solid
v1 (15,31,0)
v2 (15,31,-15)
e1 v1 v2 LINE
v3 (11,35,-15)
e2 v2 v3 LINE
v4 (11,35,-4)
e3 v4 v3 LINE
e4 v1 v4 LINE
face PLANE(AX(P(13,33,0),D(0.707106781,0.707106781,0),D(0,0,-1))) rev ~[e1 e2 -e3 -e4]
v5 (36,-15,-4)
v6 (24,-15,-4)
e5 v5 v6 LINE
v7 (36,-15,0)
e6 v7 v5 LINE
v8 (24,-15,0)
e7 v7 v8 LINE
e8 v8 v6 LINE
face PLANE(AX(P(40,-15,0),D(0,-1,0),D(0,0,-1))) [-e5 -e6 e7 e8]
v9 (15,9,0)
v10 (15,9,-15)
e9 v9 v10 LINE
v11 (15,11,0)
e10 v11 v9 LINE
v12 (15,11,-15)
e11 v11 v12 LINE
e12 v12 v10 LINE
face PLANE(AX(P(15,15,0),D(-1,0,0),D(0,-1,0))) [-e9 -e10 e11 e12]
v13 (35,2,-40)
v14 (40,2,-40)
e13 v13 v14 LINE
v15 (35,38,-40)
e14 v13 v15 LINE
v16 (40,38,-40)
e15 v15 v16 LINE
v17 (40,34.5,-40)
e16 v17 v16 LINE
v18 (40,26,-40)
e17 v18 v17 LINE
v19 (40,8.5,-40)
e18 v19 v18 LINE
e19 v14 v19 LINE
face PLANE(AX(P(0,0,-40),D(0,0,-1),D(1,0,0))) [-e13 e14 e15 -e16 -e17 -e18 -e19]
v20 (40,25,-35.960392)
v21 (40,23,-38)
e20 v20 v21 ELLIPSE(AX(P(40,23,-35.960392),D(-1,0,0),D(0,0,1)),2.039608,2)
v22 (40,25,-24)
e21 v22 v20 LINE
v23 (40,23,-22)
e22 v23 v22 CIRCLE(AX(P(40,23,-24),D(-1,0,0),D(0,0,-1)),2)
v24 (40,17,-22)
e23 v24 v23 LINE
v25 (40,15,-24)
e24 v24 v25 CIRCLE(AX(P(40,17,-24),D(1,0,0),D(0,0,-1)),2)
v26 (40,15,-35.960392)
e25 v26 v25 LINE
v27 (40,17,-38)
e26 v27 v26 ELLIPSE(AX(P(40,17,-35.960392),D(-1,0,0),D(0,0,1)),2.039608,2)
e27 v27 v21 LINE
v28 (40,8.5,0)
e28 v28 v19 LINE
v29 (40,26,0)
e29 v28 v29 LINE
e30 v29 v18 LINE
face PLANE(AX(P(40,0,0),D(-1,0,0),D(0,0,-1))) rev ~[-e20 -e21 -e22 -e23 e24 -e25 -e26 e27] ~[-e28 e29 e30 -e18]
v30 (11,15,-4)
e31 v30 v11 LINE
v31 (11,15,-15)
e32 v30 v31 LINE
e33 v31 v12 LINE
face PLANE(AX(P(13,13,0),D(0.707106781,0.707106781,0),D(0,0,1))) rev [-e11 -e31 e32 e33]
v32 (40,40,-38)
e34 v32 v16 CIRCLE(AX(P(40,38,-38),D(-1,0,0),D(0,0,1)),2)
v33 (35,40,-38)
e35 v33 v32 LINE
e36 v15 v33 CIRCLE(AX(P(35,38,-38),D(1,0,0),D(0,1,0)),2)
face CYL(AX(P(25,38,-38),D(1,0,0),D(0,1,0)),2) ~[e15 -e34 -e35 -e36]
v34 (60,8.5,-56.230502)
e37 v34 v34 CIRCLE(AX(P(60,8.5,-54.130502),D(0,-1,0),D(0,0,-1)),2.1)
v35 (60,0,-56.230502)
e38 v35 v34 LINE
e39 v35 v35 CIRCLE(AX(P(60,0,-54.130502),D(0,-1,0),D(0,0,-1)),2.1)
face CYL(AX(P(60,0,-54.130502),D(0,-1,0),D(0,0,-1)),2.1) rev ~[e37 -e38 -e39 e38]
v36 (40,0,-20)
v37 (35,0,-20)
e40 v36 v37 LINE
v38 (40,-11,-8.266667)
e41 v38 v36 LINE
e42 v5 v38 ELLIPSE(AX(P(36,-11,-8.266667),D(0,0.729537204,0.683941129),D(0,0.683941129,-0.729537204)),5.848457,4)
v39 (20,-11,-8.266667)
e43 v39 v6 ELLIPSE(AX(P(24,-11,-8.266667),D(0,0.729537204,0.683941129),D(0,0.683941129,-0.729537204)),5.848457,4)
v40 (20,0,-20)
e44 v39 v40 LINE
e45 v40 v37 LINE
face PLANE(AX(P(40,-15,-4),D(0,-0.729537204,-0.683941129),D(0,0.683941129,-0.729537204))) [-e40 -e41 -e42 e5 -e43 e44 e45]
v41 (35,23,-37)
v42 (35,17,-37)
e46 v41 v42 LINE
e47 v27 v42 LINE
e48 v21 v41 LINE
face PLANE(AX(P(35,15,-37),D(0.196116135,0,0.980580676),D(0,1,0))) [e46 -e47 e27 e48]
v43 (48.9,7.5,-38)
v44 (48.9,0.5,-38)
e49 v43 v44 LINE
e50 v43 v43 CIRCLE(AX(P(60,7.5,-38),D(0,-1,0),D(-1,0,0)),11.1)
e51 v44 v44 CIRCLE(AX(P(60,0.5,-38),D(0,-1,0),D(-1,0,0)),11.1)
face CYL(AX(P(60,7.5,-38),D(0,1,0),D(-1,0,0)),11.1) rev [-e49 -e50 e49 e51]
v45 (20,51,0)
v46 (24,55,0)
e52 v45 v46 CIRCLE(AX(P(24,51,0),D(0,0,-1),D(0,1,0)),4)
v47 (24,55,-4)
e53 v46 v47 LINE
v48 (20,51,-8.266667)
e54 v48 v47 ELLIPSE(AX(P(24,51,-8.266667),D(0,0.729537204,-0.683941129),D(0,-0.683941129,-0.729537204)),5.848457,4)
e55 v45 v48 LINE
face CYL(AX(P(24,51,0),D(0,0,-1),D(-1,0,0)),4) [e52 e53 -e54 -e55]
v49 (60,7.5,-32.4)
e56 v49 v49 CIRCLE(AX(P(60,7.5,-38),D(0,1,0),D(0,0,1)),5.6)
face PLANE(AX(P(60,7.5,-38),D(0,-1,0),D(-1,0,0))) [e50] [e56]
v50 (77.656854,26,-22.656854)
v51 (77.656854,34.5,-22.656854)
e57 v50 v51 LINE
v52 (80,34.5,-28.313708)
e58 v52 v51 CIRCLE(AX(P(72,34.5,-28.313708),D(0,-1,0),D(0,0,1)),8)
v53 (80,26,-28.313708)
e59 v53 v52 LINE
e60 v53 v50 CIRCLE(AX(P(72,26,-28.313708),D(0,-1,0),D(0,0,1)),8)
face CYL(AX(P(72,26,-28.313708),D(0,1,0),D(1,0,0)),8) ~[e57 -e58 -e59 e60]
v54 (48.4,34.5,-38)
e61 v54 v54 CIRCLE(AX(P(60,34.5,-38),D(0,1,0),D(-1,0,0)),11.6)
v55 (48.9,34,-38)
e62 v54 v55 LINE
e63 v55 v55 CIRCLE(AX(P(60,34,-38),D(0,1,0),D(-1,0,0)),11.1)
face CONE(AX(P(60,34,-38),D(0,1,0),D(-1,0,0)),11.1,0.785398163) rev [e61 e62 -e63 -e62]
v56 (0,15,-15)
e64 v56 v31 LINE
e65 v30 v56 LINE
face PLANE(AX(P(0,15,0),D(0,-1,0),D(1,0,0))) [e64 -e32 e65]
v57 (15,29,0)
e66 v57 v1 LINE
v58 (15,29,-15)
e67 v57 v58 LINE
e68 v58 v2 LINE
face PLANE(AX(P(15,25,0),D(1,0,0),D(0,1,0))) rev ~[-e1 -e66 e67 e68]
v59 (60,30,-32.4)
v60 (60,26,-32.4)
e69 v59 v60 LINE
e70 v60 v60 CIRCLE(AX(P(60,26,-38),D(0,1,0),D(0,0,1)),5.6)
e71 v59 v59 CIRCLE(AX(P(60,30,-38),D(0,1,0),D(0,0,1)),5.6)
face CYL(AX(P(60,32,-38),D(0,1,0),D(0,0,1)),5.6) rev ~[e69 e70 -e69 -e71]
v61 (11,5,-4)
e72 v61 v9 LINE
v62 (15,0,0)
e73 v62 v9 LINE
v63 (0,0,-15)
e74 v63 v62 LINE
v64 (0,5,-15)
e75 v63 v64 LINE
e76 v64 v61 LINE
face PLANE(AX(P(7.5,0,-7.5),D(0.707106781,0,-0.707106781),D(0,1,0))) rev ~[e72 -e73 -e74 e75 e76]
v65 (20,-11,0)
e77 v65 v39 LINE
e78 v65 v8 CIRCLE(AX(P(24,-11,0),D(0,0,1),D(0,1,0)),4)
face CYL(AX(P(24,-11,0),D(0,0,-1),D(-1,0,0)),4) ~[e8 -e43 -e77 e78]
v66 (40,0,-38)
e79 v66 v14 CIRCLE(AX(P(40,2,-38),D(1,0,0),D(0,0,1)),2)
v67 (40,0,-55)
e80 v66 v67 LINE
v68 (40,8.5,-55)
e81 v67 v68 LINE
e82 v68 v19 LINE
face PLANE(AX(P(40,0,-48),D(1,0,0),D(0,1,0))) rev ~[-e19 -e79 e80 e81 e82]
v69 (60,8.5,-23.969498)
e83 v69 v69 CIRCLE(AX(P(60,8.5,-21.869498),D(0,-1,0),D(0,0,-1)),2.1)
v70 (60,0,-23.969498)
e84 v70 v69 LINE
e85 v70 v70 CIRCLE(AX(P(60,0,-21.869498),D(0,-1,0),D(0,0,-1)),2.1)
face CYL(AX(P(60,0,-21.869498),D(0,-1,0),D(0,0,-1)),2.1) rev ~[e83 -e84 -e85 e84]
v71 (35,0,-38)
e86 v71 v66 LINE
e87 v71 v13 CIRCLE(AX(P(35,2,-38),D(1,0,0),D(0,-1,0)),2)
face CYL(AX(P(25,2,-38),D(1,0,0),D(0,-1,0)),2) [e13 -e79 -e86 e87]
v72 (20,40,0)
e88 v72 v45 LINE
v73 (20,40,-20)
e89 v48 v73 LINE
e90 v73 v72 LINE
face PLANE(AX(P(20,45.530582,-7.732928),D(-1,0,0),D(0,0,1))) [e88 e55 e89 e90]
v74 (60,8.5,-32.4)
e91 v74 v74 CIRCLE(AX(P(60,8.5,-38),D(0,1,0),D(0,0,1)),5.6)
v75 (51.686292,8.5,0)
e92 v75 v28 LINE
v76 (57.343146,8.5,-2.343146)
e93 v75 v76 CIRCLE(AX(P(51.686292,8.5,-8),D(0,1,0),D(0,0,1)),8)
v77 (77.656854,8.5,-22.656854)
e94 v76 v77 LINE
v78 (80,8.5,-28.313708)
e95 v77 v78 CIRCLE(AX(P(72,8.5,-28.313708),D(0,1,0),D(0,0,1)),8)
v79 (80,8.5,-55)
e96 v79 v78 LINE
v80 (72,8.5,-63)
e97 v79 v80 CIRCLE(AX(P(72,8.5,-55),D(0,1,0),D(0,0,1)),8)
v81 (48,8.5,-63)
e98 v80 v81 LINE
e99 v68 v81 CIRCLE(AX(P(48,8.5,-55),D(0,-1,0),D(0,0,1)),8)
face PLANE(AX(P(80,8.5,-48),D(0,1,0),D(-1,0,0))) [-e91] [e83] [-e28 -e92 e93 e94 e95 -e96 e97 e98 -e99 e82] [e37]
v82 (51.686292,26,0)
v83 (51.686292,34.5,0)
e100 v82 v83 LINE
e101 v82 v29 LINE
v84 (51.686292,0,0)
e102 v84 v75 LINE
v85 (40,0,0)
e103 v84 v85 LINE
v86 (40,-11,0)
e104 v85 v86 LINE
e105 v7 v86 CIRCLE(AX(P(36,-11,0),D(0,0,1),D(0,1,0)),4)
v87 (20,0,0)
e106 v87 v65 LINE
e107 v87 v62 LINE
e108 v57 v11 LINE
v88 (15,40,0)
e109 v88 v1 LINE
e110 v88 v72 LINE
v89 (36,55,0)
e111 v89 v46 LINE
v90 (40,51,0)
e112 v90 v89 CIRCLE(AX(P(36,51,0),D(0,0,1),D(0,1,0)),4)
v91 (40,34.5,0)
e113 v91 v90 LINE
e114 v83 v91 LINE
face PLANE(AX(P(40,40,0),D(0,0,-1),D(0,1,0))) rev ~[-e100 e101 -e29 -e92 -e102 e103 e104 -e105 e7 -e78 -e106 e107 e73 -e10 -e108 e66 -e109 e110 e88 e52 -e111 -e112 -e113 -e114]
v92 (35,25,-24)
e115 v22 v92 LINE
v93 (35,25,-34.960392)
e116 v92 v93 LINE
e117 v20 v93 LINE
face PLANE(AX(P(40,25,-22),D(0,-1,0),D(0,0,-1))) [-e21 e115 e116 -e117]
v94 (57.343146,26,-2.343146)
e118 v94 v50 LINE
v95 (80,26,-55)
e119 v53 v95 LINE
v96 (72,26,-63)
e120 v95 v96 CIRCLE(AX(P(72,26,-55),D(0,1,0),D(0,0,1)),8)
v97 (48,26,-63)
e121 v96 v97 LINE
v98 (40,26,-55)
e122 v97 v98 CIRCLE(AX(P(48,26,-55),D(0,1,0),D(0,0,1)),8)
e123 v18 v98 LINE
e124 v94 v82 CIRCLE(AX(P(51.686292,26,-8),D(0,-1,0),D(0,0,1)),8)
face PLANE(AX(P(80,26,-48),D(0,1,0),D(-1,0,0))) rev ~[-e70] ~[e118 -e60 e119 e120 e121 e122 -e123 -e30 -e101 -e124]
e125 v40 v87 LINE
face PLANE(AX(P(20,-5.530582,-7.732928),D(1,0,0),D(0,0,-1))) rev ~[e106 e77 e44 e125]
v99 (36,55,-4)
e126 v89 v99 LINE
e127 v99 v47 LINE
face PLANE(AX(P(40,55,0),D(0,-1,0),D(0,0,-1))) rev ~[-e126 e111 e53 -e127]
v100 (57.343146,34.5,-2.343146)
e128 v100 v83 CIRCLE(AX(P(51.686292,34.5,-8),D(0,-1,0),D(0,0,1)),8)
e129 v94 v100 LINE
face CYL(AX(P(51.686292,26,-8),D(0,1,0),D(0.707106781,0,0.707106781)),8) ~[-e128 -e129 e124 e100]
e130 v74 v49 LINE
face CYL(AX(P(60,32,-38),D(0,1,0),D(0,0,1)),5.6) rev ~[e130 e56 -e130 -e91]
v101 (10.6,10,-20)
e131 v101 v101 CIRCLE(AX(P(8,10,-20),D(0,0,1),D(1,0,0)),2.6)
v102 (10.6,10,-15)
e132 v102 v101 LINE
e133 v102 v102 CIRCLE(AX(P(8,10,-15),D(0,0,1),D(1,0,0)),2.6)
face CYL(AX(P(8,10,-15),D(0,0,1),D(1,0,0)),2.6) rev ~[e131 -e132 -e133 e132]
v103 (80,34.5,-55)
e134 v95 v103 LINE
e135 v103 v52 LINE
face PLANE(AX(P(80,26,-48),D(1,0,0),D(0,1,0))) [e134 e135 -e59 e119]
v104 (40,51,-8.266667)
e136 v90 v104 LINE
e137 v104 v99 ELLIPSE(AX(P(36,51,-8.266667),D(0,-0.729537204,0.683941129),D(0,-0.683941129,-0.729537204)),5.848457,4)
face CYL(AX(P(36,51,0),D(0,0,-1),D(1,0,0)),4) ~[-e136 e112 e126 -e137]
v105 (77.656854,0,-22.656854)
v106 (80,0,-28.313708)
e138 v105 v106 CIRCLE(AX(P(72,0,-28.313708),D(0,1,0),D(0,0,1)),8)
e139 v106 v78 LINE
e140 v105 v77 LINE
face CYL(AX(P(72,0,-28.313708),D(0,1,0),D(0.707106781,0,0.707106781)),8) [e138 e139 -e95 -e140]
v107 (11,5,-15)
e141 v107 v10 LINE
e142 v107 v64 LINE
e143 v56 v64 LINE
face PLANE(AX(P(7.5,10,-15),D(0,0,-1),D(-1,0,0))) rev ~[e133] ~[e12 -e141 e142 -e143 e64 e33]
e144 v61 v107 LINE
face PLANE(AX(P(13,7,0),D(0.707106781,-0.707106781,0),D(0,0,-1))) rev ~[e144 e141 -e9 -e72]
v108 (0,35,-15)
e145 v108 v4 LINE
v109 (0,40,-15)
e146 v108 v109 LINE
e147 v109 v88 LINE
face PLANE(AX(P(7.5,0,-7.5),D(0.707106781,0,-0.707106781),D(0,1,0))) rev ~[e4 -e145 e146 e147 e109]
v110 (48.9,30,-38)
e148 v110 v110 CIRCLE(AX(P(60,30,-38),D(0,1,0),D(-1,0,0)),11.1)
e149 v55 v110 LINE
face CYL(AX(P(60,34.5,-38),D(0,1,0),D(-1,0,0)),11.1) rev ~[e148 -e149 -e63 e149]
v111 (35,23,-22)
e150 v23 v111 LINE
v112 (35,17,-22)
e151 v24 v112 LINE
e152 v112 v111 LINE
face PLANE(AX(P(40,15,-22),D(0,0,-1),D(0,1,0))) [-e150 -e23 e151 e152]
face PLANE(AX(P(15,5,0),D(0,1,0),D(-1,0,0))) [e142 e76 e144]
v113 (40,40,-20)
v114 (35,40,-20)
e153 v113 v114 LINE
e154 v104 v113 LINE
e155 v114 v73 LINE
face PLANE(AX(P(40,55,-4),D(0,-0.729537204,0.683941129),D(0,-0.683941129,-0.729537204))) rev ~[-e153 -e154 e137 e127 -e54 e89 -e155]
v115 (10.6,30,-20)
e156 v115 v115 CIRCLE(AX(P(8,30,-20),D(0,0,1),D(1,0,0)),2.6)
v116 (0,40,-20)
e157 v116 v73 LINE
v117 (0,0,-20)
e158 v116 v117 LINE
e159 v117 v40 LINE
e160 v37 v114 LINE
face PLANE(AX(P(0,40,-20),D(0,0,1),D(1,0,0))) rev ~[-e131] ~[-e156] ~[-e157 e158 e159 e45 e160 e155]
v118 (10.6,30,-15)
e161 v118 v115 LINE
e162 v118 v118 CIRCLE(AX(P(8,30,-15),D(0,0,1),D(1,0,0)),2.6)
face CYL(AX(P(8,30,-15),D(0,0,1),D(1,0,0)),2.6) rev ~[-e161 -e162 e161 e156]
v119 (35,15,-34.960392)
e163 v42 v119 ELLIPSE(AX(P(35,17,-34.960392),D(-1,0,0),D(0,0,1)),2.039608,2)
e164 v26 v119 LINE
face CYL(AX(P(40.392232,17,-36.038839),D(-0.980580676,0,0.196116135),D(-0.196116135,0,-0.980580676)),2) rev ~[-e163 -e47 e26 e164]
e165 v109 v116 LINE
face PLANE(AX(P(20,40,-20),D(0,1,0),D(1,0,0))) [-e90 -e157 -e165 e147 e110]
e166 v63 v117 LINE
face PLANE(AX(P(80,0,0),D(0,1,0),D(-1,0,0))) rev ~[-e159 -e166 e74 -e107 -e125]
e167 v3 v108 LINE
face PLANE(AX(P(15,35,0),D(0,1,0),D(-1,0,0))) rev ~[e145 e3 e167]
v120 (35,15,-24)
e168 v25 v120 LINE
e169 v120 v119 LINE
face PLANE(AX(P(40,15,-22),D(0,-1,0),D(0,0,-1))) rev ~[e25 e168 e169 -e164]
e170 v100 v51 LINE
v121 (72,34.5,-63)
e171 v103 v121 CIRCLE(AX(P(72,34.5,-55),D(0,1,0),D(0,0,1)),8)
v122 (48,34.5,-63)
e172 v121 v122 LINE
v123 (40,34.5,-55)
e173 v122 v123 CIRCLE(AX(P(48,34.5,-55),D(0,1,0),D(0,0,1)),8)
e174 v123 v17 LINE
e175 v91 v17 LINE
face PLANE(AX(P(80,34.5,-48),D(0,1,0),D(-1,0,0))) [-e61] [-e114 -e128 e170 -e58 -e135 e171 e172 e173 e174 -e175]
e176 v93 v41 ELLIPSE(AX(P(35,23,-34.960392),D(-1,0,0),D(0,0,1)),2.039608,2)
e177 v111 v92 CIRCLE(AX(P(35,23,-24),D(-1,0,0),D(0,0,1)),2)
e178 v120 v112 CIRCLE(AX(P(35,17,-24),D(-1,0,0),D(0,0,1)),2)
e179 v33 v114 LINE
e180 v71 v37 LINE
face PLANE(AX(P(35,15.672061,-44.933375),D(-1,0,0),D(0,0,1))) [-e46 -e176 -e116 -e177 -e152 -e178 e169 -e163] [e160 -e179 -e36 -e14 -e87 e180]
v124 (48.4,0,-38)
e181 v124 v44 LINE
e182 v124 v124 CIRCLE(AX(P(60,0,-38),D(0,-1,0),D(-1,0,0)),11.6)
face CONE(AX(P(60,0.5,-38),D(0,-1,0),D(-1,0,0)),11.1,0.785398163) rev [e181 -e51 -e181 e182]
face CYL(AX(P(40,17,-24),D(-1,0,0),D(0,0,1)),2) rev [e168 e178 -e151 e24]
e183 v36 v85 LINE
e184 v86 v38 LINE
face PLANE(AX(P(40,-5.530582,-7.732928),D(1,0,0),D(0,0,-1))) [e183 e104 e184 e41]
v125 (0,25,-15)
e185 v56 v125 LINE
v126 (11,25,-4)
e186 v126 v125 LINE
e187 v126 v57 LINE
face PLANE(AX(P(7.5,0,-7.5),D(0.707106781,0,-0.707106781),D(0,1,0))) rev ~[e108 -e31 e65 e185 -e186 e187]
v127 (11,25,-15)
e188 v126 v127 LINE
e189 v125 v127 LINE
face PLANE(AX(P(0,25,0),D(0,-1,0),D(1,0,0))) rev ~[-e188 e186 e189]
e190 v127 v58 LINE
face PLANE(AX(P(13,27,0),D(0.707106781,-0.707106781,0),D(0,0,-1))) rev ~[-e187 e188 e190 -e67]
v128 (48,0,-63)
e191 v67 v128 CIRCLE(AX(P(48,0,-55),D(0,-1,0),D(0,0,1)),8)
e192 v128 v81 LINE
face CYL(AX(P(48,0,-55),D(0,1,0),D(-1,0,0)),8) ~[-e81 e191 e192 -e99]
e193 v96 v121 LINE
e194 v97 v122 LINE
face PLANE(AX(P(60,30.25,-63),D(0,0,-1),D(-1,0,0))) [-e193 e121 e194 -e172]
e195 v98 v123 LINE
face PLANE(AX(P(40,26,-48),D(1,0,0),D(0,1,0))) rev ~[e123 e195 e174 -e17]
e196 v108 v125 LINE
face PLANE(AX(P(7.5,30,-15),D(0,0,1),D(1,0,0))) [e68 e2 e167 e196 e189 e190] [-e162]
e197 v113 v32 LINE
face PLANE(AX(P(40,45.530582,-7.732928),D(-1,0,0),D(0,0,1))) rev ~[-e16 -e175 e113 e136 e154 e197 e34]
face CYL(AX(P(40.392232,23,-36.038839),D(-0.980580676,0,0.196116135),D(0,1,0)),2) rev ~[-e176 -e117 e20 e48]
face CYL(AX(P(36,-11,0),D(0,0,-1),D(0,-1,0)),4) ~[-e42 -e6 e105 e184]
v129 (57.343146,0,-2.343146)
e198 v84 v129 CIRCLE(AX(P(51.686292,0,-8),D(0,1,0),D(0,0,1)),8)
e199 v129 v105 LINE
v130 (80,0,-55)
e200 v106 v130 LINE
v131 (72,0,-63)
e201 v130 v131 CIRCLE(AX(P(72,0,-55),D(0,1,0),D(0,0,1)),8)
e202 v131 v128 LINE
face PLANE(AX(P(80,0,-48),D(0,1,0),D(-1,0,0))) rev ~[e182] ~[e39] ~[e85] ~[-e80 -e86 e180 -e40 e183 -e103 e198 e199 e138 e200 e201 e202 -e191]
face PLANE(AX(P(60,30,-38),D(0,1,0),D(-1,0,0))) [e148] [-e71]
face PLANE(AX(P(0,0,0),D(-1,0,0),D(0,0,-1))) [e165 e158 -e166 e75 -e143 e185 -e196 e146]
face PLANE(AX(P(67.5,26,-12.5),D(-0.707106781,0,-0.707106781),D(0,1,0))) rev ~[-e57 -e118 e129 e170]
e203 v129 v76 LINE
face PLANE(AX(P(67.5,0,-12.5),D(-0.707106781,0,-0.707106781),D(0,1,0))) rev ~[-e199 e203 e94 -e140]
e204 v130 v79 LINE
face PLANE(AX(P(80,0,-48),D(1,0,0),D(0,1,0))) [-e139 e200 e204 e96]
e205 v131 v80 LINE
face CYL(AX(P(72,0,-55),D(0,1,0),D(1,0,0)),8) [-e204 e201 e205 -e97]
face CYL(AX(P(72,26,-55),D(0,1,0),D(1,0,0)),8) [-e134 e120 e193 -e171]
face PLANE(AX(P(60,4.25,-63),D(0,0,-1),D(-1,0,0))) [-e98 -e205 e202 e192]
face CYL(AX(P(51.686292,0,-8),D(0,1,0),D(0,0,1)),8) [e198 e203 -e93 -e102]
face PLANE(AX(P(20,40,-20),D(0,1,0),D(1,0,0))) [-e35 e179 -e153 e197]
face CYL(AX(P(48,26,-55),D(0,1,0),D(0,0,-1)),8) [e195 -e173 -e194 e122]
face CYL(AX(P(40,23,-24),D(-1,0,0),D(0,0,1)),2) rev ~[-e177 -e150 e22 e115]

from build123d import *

# Parameters (mm, degrees)
SKETCH1_W                = 40
SKETCH1_H                = 40
BOSS_EXTRUDE1_DEPTH      = 40
SKETCH2_W                = 25
SKETCH2_H                = 20
CUT_EXTRUDE1_DEPTH       = 40
CHAMFER1_SIZE            = 15
CUT_EXTRUDE2_DEPTH       = 15
CHAMFER2_SIZE            = 4
SKETCH4_R                = 2.6
CUT_EXTRUDE3_DEPTH       = 17
BOSS_EXTRUDE2_DEPTH      = 8
BOSS_EXTRUDE2_DEPTH_BACK = 40
SKETCH5_W                = 40
SKETCH5_H                = 8.5
SKETCH10_W               = 14
SKETCH10_H               = 10
CUT_EXTRUDE5_DEPTH       = 26
SKETCH8_R                = 5.6
CUT_EXTRUDE4_DEPTH       = 34
BOSS_EXTRUDE3_DEPTH      = 20
FILLET3_R                = 4
FILLET4_R                = 2
CHAMFER7_SIZE            = 25
CHAMFER8_SIZE            = 2
CHAMFER8_SIZE2           = 10
FILLET7_R                = 2
SKETCH14_W               = 40
SKETCH14_H               = 8.5
BOSS_EXTRUDE4_DEPTH      = 15
SKETCH16_W               = 40
SKETCH16_H               = 8.5
BOSS_EXTRUDE5_DEPTH      = 15
SKETCH12_R               = 11.1
CUT_EXTRUDE6_DEPTH       = 4.5
CUT_EXTRUDE7_START       = -7.5
SKETCH13_R               = 11.1
CUT_EXTRUDE7_DEPTH       = 7.5
SKETCH15_R               = 2.1
CUT_EXTRUDE8_DEPTH       = 10
CHAMFER10_SIZE           = 0.5
FILLET8_R                = 8
CUT_EXTRUDE9_DEPTH       = 10


with BuildPart() as part:
    # Sketch1 → Boss-Extrude1 (new body)
    with BuildSketch(Plane(origin=(0, 0, 0), x_dir=(1, 0, 0), z_dir=(0, 1, 0))):
        with Locations((20, 20)):
            Rectangle(SKETCH1_W, SKETCH1_H)
    extrude(amount=BOSS_EXTRUDE1_DEPTH)

    # Sketch2 → Cut-Extrude1 (cut)
    with BuildSketch(Plane(origin=(0, 40, 0), x_dir=(1, 0, 0), z_dir=(0, 1, 0))):
        with Locations((12.5, 30)):
            Rectangle(SKETCH2_W, SKETCH2_H)
    extrude(amount=-CUT_EXTRUDE1_DEPTH, mode=Mode.SUBTRACT)

    # Chamfer1
    chamfer1_edges = [part.edges().sort_by_distance(p)[0] for p in [
        (0, 20, 0),
    ]]
    chamfer(chamfer1_edges, length=CHAMFER1_SIZE)

    # Sketch3 → Cut-Extrude2 (cut)
    with BuildSketch(Plane.XY):
        Polygon((0, 10), (0, 15), (15, 15), (15, 5), (0, 5), align=None)
        Polygon((0, 30), (0, 25), (15, 25), (15, 35), (0, 35), align=None)
    extrude(amount=-CUT_EXTRUDE2_DEPTH, mode=Mode.SUBTRACT)

    # Chamfer2
    chamfer2_edges = [part.edges().sort_by_distance(p)[0] for p in [
        (15, 35, -7.5),
        (15, 25, -7.5),
        (15, 15, -7.5),
        (15, 5, -7.5),
    ]]
    chamfer(chamfer2_edges, length=CHAMFER2_SIZE)

    # Sketch4 → Cut-Extrude3 (cut)
    with BuildSketch(Plane.XY.offset(-15)):
        with Locations((8, 30)):
            Circle(SKETCH4_R)
        with Locations((8, 10)):
            Circle(SKETCH4_R)
    extrude(amount=-CUT_EXTRUDE3_DEPTH, mode=Mode.SUBTRACT)

    # Sketch5 → Boss-Extrude2 (add, two sides: drawn at the far end of the back side and taken through both)
    with BuildSketch(Plane(origin=(0, 0, -40), x_dir=(-1, 0, 0), z_dir=(0, 0, -1)).offset(-BOSS_EXTRUDE2_DEPTH_BACK)):
        with Locations((-60, 4.25)):
            Rectangle(SKETCH5_W, SKETCH5_H)
        with Locations((-60, 30.25)):
            Rectangle(SKETCH5_W, SKETCH5_H)
    extrude(amount=BOSS_EXTRUDE2_DEPTH + BOSS_EXTRUDE2_DEPTH_BACK)

    # Sketch10 → Cut-Extrude5 (cut)
    with BuildSketch(Plane(origin=(40, 0, 0), x_dir=(0, 0, -1), z_dir=(1, 0, 0))):
        with Locations((29, 20)):
            Rectangle(SKETCH10_W, SKETCH10_H)
    extrude(amount=-CUT_EXTRUDE5_DEPTH, mode=Mode.SUBTRACT)

    # Sketch8 → Cut-Extrude4 (cut)
    with BuildSketch(Plane(origin=(0, 32, 0), x_dir=(1, 0, 0), z_dir=(0, 1, 0))):
        with Locations(Location((60, 38, 0), (0, 0, 270))):
            Circle(SKETCH8_R)
    extrude(amount=-CUT_EXTRUDE4_DEPTH, mode=Mode.SUBTRACT)

    # Sketch9 → Boss-Extrude3 (add)
    with BuildSketch(Plane(origin=(40, 0, 0), x_dir=(0, 0, -1), z_dir=(1, 0, 0))):
        Polygon((0, 40), (0, 55), (4, 55), (20, 40), align=None)
        Polygon((0, 0), (0, -15), (4, -15), (20, 0), align=None)
    extrude(amount=-BOSS_EXTRUDE3_DEPTH)

    # Fillet3
    fillet3_edges = [part.edges().sort_by_distance(p)[0] for p in [
        (20, 55, -2),
        (40, 55, -2),
        (20, -15, -2),
        (40, -15, -2),
    ]]
    fillet(fillet3_edges, radius=FILLET3_R)

    # Fillet4
    fillet4_edges = [part.edges().sort_by_distance(p)[0] for p in [
        (32.5, 40, -40),
        (32.5, 0, -40),
    ]]
    fillet(fillet4_edges, radius=FILLET4_R)

    # Chamfer7
    chamfer7_edges = [part.edges().sort_by_distance(p)[0] for p in [
        (80, 4.25, 0),
        (80, 30.25, 0),
    ]]
    chamfer(chamfer7_edges, length=CHAMFER7_SIZE)

    # Chamfer8
    chamfer8_edges = [part.edges().sort_by_distance(p)[0] for p in [
        (40, 20, -36),
    ]]
    chamfer8_side = [part.faces().sort_by_distance(p)[0] for p in [
        (40, 16.5625, -17.75),
    ]]
    chamfer(chamfer8_edges, length=CHAMFER8_SIZE, length2=CHAMFER8_SIZE2, reference=chamfer8_side[0])

    # Fillet7
    fillet7_edges = [part.edges().sort_by_distance(p)[0] for p in [
        (27.5, 15, -36),
        (32.5, 15, -22),
        (32.5, 25, -22),
        (27.5, 25, -36),
        (35, 25, -37),
        (35, 15, -37),
    ]]
    fillet(fillet7_edges, radius=FILLET7_R)

    # Sketch14 → Boss-Extrude4 (add)
    with BuildSketch(Plane(origin=(0, 0, -48), x_dir=(-1, 0, 0), z_dir=(0, 0, -1))):
        with Locations((-60, 4.25)):
            Rectangle(SKETCH14_W, SKETCH14_H)
    extrude(amount=BOSS_EXTRUDE4_DEPTH)

    # Sketch16 → Boss-Extrude5 (add)
    with BuildSketch(Plane(origin=(0, 0, -48), x_dir=(-1, 0, 0), z_dir=(0, 0, -1))):
        with Locations((-60, 30.25)):
            Rectangle(SKETCH16_W, SKETCH16_H)
    extrude(amount=BOSS_EXTRUDE5_DEPTH)

    # Sketch12 → Cut-Extrude6 (cut)
    with BuildSketch(Plane(origin=(0, 34.5, 0), x_dir=(1, 0, 0), z_dir=(0, 1, 0))):
        with Locations(Location((60, 38, 0), (0, 0, 180))):
            Circle(SKETCH12_R)
    extrude(amount=-CUT_EXTRUDE6_DEPTH, mode=Mode.SUBTRACT)

    # Sketch13 → Cut-Extrude7 (cut)
    with BuildSketch(Plane.XZ.offset(CUT_EXTRUDE7_START)):
        with Locations(Location((60, -38, 0), (0, 0, 180))):
            Circle(SKETCH13_R)
    extrude(amount=CUT_EXTRUDE7_DEPTH, mode=Mode.SUBTRACT)

    # Sketch15 → Cut-Extrude8 (cut)
    with BuildSketch(Plane.XZ):
        with Locations(Location((60, -54.130501699, 0), (0, 0, 270))):
            Circle(SKETCH15_R)
        with Locations(Location((60, -21.869498301, 0), (0, 0, 270))):
            Circle(SKETCH15_R)
    extrude(amount=-CUT_EXTRUDE8_DEPTH, mode=Mode.SUBTRACT)

    # Chamfer10
    chamfer10_edges = [part.edges().sort_by_distance(p)[0] for p in [
        (71.1, 34.5, -38),
        (71.1, 0, -38),
    ]]
    chamfer(chamfer10_edges, length=CHAMFER10_SIZE)

    # Fillet8
    fillet8_edges = [part.edges().sort_by_distance(p)[0] for p in [
        (55, 30.25, 0),
        (55, 4.25, 0),
        (80, 4.25, -25),
        (80, 30.25, -25),
        (80, 4.25, -63),
        (40, 4.25, -63),
        (80, 30.25, -63),
        (40, 30.25, -63),
    ]]
    fillet(fillet8_edges, radius=FILLET8_R)

    # Sketch17 → Cut-Extrude9 (cut)
    with BuildSketch(Plane.ZY.offset(-25)):
        Polygon((-20, 0), (-20, 68.838193982), (-62.566783677, 68.838193982), (-62.566783677, -51.070720767), align=None)
    extrude(amount=-CUT_EXTRUDE9_DEPTH, mode=Mode.SUBTRACT)


solid = part.part
